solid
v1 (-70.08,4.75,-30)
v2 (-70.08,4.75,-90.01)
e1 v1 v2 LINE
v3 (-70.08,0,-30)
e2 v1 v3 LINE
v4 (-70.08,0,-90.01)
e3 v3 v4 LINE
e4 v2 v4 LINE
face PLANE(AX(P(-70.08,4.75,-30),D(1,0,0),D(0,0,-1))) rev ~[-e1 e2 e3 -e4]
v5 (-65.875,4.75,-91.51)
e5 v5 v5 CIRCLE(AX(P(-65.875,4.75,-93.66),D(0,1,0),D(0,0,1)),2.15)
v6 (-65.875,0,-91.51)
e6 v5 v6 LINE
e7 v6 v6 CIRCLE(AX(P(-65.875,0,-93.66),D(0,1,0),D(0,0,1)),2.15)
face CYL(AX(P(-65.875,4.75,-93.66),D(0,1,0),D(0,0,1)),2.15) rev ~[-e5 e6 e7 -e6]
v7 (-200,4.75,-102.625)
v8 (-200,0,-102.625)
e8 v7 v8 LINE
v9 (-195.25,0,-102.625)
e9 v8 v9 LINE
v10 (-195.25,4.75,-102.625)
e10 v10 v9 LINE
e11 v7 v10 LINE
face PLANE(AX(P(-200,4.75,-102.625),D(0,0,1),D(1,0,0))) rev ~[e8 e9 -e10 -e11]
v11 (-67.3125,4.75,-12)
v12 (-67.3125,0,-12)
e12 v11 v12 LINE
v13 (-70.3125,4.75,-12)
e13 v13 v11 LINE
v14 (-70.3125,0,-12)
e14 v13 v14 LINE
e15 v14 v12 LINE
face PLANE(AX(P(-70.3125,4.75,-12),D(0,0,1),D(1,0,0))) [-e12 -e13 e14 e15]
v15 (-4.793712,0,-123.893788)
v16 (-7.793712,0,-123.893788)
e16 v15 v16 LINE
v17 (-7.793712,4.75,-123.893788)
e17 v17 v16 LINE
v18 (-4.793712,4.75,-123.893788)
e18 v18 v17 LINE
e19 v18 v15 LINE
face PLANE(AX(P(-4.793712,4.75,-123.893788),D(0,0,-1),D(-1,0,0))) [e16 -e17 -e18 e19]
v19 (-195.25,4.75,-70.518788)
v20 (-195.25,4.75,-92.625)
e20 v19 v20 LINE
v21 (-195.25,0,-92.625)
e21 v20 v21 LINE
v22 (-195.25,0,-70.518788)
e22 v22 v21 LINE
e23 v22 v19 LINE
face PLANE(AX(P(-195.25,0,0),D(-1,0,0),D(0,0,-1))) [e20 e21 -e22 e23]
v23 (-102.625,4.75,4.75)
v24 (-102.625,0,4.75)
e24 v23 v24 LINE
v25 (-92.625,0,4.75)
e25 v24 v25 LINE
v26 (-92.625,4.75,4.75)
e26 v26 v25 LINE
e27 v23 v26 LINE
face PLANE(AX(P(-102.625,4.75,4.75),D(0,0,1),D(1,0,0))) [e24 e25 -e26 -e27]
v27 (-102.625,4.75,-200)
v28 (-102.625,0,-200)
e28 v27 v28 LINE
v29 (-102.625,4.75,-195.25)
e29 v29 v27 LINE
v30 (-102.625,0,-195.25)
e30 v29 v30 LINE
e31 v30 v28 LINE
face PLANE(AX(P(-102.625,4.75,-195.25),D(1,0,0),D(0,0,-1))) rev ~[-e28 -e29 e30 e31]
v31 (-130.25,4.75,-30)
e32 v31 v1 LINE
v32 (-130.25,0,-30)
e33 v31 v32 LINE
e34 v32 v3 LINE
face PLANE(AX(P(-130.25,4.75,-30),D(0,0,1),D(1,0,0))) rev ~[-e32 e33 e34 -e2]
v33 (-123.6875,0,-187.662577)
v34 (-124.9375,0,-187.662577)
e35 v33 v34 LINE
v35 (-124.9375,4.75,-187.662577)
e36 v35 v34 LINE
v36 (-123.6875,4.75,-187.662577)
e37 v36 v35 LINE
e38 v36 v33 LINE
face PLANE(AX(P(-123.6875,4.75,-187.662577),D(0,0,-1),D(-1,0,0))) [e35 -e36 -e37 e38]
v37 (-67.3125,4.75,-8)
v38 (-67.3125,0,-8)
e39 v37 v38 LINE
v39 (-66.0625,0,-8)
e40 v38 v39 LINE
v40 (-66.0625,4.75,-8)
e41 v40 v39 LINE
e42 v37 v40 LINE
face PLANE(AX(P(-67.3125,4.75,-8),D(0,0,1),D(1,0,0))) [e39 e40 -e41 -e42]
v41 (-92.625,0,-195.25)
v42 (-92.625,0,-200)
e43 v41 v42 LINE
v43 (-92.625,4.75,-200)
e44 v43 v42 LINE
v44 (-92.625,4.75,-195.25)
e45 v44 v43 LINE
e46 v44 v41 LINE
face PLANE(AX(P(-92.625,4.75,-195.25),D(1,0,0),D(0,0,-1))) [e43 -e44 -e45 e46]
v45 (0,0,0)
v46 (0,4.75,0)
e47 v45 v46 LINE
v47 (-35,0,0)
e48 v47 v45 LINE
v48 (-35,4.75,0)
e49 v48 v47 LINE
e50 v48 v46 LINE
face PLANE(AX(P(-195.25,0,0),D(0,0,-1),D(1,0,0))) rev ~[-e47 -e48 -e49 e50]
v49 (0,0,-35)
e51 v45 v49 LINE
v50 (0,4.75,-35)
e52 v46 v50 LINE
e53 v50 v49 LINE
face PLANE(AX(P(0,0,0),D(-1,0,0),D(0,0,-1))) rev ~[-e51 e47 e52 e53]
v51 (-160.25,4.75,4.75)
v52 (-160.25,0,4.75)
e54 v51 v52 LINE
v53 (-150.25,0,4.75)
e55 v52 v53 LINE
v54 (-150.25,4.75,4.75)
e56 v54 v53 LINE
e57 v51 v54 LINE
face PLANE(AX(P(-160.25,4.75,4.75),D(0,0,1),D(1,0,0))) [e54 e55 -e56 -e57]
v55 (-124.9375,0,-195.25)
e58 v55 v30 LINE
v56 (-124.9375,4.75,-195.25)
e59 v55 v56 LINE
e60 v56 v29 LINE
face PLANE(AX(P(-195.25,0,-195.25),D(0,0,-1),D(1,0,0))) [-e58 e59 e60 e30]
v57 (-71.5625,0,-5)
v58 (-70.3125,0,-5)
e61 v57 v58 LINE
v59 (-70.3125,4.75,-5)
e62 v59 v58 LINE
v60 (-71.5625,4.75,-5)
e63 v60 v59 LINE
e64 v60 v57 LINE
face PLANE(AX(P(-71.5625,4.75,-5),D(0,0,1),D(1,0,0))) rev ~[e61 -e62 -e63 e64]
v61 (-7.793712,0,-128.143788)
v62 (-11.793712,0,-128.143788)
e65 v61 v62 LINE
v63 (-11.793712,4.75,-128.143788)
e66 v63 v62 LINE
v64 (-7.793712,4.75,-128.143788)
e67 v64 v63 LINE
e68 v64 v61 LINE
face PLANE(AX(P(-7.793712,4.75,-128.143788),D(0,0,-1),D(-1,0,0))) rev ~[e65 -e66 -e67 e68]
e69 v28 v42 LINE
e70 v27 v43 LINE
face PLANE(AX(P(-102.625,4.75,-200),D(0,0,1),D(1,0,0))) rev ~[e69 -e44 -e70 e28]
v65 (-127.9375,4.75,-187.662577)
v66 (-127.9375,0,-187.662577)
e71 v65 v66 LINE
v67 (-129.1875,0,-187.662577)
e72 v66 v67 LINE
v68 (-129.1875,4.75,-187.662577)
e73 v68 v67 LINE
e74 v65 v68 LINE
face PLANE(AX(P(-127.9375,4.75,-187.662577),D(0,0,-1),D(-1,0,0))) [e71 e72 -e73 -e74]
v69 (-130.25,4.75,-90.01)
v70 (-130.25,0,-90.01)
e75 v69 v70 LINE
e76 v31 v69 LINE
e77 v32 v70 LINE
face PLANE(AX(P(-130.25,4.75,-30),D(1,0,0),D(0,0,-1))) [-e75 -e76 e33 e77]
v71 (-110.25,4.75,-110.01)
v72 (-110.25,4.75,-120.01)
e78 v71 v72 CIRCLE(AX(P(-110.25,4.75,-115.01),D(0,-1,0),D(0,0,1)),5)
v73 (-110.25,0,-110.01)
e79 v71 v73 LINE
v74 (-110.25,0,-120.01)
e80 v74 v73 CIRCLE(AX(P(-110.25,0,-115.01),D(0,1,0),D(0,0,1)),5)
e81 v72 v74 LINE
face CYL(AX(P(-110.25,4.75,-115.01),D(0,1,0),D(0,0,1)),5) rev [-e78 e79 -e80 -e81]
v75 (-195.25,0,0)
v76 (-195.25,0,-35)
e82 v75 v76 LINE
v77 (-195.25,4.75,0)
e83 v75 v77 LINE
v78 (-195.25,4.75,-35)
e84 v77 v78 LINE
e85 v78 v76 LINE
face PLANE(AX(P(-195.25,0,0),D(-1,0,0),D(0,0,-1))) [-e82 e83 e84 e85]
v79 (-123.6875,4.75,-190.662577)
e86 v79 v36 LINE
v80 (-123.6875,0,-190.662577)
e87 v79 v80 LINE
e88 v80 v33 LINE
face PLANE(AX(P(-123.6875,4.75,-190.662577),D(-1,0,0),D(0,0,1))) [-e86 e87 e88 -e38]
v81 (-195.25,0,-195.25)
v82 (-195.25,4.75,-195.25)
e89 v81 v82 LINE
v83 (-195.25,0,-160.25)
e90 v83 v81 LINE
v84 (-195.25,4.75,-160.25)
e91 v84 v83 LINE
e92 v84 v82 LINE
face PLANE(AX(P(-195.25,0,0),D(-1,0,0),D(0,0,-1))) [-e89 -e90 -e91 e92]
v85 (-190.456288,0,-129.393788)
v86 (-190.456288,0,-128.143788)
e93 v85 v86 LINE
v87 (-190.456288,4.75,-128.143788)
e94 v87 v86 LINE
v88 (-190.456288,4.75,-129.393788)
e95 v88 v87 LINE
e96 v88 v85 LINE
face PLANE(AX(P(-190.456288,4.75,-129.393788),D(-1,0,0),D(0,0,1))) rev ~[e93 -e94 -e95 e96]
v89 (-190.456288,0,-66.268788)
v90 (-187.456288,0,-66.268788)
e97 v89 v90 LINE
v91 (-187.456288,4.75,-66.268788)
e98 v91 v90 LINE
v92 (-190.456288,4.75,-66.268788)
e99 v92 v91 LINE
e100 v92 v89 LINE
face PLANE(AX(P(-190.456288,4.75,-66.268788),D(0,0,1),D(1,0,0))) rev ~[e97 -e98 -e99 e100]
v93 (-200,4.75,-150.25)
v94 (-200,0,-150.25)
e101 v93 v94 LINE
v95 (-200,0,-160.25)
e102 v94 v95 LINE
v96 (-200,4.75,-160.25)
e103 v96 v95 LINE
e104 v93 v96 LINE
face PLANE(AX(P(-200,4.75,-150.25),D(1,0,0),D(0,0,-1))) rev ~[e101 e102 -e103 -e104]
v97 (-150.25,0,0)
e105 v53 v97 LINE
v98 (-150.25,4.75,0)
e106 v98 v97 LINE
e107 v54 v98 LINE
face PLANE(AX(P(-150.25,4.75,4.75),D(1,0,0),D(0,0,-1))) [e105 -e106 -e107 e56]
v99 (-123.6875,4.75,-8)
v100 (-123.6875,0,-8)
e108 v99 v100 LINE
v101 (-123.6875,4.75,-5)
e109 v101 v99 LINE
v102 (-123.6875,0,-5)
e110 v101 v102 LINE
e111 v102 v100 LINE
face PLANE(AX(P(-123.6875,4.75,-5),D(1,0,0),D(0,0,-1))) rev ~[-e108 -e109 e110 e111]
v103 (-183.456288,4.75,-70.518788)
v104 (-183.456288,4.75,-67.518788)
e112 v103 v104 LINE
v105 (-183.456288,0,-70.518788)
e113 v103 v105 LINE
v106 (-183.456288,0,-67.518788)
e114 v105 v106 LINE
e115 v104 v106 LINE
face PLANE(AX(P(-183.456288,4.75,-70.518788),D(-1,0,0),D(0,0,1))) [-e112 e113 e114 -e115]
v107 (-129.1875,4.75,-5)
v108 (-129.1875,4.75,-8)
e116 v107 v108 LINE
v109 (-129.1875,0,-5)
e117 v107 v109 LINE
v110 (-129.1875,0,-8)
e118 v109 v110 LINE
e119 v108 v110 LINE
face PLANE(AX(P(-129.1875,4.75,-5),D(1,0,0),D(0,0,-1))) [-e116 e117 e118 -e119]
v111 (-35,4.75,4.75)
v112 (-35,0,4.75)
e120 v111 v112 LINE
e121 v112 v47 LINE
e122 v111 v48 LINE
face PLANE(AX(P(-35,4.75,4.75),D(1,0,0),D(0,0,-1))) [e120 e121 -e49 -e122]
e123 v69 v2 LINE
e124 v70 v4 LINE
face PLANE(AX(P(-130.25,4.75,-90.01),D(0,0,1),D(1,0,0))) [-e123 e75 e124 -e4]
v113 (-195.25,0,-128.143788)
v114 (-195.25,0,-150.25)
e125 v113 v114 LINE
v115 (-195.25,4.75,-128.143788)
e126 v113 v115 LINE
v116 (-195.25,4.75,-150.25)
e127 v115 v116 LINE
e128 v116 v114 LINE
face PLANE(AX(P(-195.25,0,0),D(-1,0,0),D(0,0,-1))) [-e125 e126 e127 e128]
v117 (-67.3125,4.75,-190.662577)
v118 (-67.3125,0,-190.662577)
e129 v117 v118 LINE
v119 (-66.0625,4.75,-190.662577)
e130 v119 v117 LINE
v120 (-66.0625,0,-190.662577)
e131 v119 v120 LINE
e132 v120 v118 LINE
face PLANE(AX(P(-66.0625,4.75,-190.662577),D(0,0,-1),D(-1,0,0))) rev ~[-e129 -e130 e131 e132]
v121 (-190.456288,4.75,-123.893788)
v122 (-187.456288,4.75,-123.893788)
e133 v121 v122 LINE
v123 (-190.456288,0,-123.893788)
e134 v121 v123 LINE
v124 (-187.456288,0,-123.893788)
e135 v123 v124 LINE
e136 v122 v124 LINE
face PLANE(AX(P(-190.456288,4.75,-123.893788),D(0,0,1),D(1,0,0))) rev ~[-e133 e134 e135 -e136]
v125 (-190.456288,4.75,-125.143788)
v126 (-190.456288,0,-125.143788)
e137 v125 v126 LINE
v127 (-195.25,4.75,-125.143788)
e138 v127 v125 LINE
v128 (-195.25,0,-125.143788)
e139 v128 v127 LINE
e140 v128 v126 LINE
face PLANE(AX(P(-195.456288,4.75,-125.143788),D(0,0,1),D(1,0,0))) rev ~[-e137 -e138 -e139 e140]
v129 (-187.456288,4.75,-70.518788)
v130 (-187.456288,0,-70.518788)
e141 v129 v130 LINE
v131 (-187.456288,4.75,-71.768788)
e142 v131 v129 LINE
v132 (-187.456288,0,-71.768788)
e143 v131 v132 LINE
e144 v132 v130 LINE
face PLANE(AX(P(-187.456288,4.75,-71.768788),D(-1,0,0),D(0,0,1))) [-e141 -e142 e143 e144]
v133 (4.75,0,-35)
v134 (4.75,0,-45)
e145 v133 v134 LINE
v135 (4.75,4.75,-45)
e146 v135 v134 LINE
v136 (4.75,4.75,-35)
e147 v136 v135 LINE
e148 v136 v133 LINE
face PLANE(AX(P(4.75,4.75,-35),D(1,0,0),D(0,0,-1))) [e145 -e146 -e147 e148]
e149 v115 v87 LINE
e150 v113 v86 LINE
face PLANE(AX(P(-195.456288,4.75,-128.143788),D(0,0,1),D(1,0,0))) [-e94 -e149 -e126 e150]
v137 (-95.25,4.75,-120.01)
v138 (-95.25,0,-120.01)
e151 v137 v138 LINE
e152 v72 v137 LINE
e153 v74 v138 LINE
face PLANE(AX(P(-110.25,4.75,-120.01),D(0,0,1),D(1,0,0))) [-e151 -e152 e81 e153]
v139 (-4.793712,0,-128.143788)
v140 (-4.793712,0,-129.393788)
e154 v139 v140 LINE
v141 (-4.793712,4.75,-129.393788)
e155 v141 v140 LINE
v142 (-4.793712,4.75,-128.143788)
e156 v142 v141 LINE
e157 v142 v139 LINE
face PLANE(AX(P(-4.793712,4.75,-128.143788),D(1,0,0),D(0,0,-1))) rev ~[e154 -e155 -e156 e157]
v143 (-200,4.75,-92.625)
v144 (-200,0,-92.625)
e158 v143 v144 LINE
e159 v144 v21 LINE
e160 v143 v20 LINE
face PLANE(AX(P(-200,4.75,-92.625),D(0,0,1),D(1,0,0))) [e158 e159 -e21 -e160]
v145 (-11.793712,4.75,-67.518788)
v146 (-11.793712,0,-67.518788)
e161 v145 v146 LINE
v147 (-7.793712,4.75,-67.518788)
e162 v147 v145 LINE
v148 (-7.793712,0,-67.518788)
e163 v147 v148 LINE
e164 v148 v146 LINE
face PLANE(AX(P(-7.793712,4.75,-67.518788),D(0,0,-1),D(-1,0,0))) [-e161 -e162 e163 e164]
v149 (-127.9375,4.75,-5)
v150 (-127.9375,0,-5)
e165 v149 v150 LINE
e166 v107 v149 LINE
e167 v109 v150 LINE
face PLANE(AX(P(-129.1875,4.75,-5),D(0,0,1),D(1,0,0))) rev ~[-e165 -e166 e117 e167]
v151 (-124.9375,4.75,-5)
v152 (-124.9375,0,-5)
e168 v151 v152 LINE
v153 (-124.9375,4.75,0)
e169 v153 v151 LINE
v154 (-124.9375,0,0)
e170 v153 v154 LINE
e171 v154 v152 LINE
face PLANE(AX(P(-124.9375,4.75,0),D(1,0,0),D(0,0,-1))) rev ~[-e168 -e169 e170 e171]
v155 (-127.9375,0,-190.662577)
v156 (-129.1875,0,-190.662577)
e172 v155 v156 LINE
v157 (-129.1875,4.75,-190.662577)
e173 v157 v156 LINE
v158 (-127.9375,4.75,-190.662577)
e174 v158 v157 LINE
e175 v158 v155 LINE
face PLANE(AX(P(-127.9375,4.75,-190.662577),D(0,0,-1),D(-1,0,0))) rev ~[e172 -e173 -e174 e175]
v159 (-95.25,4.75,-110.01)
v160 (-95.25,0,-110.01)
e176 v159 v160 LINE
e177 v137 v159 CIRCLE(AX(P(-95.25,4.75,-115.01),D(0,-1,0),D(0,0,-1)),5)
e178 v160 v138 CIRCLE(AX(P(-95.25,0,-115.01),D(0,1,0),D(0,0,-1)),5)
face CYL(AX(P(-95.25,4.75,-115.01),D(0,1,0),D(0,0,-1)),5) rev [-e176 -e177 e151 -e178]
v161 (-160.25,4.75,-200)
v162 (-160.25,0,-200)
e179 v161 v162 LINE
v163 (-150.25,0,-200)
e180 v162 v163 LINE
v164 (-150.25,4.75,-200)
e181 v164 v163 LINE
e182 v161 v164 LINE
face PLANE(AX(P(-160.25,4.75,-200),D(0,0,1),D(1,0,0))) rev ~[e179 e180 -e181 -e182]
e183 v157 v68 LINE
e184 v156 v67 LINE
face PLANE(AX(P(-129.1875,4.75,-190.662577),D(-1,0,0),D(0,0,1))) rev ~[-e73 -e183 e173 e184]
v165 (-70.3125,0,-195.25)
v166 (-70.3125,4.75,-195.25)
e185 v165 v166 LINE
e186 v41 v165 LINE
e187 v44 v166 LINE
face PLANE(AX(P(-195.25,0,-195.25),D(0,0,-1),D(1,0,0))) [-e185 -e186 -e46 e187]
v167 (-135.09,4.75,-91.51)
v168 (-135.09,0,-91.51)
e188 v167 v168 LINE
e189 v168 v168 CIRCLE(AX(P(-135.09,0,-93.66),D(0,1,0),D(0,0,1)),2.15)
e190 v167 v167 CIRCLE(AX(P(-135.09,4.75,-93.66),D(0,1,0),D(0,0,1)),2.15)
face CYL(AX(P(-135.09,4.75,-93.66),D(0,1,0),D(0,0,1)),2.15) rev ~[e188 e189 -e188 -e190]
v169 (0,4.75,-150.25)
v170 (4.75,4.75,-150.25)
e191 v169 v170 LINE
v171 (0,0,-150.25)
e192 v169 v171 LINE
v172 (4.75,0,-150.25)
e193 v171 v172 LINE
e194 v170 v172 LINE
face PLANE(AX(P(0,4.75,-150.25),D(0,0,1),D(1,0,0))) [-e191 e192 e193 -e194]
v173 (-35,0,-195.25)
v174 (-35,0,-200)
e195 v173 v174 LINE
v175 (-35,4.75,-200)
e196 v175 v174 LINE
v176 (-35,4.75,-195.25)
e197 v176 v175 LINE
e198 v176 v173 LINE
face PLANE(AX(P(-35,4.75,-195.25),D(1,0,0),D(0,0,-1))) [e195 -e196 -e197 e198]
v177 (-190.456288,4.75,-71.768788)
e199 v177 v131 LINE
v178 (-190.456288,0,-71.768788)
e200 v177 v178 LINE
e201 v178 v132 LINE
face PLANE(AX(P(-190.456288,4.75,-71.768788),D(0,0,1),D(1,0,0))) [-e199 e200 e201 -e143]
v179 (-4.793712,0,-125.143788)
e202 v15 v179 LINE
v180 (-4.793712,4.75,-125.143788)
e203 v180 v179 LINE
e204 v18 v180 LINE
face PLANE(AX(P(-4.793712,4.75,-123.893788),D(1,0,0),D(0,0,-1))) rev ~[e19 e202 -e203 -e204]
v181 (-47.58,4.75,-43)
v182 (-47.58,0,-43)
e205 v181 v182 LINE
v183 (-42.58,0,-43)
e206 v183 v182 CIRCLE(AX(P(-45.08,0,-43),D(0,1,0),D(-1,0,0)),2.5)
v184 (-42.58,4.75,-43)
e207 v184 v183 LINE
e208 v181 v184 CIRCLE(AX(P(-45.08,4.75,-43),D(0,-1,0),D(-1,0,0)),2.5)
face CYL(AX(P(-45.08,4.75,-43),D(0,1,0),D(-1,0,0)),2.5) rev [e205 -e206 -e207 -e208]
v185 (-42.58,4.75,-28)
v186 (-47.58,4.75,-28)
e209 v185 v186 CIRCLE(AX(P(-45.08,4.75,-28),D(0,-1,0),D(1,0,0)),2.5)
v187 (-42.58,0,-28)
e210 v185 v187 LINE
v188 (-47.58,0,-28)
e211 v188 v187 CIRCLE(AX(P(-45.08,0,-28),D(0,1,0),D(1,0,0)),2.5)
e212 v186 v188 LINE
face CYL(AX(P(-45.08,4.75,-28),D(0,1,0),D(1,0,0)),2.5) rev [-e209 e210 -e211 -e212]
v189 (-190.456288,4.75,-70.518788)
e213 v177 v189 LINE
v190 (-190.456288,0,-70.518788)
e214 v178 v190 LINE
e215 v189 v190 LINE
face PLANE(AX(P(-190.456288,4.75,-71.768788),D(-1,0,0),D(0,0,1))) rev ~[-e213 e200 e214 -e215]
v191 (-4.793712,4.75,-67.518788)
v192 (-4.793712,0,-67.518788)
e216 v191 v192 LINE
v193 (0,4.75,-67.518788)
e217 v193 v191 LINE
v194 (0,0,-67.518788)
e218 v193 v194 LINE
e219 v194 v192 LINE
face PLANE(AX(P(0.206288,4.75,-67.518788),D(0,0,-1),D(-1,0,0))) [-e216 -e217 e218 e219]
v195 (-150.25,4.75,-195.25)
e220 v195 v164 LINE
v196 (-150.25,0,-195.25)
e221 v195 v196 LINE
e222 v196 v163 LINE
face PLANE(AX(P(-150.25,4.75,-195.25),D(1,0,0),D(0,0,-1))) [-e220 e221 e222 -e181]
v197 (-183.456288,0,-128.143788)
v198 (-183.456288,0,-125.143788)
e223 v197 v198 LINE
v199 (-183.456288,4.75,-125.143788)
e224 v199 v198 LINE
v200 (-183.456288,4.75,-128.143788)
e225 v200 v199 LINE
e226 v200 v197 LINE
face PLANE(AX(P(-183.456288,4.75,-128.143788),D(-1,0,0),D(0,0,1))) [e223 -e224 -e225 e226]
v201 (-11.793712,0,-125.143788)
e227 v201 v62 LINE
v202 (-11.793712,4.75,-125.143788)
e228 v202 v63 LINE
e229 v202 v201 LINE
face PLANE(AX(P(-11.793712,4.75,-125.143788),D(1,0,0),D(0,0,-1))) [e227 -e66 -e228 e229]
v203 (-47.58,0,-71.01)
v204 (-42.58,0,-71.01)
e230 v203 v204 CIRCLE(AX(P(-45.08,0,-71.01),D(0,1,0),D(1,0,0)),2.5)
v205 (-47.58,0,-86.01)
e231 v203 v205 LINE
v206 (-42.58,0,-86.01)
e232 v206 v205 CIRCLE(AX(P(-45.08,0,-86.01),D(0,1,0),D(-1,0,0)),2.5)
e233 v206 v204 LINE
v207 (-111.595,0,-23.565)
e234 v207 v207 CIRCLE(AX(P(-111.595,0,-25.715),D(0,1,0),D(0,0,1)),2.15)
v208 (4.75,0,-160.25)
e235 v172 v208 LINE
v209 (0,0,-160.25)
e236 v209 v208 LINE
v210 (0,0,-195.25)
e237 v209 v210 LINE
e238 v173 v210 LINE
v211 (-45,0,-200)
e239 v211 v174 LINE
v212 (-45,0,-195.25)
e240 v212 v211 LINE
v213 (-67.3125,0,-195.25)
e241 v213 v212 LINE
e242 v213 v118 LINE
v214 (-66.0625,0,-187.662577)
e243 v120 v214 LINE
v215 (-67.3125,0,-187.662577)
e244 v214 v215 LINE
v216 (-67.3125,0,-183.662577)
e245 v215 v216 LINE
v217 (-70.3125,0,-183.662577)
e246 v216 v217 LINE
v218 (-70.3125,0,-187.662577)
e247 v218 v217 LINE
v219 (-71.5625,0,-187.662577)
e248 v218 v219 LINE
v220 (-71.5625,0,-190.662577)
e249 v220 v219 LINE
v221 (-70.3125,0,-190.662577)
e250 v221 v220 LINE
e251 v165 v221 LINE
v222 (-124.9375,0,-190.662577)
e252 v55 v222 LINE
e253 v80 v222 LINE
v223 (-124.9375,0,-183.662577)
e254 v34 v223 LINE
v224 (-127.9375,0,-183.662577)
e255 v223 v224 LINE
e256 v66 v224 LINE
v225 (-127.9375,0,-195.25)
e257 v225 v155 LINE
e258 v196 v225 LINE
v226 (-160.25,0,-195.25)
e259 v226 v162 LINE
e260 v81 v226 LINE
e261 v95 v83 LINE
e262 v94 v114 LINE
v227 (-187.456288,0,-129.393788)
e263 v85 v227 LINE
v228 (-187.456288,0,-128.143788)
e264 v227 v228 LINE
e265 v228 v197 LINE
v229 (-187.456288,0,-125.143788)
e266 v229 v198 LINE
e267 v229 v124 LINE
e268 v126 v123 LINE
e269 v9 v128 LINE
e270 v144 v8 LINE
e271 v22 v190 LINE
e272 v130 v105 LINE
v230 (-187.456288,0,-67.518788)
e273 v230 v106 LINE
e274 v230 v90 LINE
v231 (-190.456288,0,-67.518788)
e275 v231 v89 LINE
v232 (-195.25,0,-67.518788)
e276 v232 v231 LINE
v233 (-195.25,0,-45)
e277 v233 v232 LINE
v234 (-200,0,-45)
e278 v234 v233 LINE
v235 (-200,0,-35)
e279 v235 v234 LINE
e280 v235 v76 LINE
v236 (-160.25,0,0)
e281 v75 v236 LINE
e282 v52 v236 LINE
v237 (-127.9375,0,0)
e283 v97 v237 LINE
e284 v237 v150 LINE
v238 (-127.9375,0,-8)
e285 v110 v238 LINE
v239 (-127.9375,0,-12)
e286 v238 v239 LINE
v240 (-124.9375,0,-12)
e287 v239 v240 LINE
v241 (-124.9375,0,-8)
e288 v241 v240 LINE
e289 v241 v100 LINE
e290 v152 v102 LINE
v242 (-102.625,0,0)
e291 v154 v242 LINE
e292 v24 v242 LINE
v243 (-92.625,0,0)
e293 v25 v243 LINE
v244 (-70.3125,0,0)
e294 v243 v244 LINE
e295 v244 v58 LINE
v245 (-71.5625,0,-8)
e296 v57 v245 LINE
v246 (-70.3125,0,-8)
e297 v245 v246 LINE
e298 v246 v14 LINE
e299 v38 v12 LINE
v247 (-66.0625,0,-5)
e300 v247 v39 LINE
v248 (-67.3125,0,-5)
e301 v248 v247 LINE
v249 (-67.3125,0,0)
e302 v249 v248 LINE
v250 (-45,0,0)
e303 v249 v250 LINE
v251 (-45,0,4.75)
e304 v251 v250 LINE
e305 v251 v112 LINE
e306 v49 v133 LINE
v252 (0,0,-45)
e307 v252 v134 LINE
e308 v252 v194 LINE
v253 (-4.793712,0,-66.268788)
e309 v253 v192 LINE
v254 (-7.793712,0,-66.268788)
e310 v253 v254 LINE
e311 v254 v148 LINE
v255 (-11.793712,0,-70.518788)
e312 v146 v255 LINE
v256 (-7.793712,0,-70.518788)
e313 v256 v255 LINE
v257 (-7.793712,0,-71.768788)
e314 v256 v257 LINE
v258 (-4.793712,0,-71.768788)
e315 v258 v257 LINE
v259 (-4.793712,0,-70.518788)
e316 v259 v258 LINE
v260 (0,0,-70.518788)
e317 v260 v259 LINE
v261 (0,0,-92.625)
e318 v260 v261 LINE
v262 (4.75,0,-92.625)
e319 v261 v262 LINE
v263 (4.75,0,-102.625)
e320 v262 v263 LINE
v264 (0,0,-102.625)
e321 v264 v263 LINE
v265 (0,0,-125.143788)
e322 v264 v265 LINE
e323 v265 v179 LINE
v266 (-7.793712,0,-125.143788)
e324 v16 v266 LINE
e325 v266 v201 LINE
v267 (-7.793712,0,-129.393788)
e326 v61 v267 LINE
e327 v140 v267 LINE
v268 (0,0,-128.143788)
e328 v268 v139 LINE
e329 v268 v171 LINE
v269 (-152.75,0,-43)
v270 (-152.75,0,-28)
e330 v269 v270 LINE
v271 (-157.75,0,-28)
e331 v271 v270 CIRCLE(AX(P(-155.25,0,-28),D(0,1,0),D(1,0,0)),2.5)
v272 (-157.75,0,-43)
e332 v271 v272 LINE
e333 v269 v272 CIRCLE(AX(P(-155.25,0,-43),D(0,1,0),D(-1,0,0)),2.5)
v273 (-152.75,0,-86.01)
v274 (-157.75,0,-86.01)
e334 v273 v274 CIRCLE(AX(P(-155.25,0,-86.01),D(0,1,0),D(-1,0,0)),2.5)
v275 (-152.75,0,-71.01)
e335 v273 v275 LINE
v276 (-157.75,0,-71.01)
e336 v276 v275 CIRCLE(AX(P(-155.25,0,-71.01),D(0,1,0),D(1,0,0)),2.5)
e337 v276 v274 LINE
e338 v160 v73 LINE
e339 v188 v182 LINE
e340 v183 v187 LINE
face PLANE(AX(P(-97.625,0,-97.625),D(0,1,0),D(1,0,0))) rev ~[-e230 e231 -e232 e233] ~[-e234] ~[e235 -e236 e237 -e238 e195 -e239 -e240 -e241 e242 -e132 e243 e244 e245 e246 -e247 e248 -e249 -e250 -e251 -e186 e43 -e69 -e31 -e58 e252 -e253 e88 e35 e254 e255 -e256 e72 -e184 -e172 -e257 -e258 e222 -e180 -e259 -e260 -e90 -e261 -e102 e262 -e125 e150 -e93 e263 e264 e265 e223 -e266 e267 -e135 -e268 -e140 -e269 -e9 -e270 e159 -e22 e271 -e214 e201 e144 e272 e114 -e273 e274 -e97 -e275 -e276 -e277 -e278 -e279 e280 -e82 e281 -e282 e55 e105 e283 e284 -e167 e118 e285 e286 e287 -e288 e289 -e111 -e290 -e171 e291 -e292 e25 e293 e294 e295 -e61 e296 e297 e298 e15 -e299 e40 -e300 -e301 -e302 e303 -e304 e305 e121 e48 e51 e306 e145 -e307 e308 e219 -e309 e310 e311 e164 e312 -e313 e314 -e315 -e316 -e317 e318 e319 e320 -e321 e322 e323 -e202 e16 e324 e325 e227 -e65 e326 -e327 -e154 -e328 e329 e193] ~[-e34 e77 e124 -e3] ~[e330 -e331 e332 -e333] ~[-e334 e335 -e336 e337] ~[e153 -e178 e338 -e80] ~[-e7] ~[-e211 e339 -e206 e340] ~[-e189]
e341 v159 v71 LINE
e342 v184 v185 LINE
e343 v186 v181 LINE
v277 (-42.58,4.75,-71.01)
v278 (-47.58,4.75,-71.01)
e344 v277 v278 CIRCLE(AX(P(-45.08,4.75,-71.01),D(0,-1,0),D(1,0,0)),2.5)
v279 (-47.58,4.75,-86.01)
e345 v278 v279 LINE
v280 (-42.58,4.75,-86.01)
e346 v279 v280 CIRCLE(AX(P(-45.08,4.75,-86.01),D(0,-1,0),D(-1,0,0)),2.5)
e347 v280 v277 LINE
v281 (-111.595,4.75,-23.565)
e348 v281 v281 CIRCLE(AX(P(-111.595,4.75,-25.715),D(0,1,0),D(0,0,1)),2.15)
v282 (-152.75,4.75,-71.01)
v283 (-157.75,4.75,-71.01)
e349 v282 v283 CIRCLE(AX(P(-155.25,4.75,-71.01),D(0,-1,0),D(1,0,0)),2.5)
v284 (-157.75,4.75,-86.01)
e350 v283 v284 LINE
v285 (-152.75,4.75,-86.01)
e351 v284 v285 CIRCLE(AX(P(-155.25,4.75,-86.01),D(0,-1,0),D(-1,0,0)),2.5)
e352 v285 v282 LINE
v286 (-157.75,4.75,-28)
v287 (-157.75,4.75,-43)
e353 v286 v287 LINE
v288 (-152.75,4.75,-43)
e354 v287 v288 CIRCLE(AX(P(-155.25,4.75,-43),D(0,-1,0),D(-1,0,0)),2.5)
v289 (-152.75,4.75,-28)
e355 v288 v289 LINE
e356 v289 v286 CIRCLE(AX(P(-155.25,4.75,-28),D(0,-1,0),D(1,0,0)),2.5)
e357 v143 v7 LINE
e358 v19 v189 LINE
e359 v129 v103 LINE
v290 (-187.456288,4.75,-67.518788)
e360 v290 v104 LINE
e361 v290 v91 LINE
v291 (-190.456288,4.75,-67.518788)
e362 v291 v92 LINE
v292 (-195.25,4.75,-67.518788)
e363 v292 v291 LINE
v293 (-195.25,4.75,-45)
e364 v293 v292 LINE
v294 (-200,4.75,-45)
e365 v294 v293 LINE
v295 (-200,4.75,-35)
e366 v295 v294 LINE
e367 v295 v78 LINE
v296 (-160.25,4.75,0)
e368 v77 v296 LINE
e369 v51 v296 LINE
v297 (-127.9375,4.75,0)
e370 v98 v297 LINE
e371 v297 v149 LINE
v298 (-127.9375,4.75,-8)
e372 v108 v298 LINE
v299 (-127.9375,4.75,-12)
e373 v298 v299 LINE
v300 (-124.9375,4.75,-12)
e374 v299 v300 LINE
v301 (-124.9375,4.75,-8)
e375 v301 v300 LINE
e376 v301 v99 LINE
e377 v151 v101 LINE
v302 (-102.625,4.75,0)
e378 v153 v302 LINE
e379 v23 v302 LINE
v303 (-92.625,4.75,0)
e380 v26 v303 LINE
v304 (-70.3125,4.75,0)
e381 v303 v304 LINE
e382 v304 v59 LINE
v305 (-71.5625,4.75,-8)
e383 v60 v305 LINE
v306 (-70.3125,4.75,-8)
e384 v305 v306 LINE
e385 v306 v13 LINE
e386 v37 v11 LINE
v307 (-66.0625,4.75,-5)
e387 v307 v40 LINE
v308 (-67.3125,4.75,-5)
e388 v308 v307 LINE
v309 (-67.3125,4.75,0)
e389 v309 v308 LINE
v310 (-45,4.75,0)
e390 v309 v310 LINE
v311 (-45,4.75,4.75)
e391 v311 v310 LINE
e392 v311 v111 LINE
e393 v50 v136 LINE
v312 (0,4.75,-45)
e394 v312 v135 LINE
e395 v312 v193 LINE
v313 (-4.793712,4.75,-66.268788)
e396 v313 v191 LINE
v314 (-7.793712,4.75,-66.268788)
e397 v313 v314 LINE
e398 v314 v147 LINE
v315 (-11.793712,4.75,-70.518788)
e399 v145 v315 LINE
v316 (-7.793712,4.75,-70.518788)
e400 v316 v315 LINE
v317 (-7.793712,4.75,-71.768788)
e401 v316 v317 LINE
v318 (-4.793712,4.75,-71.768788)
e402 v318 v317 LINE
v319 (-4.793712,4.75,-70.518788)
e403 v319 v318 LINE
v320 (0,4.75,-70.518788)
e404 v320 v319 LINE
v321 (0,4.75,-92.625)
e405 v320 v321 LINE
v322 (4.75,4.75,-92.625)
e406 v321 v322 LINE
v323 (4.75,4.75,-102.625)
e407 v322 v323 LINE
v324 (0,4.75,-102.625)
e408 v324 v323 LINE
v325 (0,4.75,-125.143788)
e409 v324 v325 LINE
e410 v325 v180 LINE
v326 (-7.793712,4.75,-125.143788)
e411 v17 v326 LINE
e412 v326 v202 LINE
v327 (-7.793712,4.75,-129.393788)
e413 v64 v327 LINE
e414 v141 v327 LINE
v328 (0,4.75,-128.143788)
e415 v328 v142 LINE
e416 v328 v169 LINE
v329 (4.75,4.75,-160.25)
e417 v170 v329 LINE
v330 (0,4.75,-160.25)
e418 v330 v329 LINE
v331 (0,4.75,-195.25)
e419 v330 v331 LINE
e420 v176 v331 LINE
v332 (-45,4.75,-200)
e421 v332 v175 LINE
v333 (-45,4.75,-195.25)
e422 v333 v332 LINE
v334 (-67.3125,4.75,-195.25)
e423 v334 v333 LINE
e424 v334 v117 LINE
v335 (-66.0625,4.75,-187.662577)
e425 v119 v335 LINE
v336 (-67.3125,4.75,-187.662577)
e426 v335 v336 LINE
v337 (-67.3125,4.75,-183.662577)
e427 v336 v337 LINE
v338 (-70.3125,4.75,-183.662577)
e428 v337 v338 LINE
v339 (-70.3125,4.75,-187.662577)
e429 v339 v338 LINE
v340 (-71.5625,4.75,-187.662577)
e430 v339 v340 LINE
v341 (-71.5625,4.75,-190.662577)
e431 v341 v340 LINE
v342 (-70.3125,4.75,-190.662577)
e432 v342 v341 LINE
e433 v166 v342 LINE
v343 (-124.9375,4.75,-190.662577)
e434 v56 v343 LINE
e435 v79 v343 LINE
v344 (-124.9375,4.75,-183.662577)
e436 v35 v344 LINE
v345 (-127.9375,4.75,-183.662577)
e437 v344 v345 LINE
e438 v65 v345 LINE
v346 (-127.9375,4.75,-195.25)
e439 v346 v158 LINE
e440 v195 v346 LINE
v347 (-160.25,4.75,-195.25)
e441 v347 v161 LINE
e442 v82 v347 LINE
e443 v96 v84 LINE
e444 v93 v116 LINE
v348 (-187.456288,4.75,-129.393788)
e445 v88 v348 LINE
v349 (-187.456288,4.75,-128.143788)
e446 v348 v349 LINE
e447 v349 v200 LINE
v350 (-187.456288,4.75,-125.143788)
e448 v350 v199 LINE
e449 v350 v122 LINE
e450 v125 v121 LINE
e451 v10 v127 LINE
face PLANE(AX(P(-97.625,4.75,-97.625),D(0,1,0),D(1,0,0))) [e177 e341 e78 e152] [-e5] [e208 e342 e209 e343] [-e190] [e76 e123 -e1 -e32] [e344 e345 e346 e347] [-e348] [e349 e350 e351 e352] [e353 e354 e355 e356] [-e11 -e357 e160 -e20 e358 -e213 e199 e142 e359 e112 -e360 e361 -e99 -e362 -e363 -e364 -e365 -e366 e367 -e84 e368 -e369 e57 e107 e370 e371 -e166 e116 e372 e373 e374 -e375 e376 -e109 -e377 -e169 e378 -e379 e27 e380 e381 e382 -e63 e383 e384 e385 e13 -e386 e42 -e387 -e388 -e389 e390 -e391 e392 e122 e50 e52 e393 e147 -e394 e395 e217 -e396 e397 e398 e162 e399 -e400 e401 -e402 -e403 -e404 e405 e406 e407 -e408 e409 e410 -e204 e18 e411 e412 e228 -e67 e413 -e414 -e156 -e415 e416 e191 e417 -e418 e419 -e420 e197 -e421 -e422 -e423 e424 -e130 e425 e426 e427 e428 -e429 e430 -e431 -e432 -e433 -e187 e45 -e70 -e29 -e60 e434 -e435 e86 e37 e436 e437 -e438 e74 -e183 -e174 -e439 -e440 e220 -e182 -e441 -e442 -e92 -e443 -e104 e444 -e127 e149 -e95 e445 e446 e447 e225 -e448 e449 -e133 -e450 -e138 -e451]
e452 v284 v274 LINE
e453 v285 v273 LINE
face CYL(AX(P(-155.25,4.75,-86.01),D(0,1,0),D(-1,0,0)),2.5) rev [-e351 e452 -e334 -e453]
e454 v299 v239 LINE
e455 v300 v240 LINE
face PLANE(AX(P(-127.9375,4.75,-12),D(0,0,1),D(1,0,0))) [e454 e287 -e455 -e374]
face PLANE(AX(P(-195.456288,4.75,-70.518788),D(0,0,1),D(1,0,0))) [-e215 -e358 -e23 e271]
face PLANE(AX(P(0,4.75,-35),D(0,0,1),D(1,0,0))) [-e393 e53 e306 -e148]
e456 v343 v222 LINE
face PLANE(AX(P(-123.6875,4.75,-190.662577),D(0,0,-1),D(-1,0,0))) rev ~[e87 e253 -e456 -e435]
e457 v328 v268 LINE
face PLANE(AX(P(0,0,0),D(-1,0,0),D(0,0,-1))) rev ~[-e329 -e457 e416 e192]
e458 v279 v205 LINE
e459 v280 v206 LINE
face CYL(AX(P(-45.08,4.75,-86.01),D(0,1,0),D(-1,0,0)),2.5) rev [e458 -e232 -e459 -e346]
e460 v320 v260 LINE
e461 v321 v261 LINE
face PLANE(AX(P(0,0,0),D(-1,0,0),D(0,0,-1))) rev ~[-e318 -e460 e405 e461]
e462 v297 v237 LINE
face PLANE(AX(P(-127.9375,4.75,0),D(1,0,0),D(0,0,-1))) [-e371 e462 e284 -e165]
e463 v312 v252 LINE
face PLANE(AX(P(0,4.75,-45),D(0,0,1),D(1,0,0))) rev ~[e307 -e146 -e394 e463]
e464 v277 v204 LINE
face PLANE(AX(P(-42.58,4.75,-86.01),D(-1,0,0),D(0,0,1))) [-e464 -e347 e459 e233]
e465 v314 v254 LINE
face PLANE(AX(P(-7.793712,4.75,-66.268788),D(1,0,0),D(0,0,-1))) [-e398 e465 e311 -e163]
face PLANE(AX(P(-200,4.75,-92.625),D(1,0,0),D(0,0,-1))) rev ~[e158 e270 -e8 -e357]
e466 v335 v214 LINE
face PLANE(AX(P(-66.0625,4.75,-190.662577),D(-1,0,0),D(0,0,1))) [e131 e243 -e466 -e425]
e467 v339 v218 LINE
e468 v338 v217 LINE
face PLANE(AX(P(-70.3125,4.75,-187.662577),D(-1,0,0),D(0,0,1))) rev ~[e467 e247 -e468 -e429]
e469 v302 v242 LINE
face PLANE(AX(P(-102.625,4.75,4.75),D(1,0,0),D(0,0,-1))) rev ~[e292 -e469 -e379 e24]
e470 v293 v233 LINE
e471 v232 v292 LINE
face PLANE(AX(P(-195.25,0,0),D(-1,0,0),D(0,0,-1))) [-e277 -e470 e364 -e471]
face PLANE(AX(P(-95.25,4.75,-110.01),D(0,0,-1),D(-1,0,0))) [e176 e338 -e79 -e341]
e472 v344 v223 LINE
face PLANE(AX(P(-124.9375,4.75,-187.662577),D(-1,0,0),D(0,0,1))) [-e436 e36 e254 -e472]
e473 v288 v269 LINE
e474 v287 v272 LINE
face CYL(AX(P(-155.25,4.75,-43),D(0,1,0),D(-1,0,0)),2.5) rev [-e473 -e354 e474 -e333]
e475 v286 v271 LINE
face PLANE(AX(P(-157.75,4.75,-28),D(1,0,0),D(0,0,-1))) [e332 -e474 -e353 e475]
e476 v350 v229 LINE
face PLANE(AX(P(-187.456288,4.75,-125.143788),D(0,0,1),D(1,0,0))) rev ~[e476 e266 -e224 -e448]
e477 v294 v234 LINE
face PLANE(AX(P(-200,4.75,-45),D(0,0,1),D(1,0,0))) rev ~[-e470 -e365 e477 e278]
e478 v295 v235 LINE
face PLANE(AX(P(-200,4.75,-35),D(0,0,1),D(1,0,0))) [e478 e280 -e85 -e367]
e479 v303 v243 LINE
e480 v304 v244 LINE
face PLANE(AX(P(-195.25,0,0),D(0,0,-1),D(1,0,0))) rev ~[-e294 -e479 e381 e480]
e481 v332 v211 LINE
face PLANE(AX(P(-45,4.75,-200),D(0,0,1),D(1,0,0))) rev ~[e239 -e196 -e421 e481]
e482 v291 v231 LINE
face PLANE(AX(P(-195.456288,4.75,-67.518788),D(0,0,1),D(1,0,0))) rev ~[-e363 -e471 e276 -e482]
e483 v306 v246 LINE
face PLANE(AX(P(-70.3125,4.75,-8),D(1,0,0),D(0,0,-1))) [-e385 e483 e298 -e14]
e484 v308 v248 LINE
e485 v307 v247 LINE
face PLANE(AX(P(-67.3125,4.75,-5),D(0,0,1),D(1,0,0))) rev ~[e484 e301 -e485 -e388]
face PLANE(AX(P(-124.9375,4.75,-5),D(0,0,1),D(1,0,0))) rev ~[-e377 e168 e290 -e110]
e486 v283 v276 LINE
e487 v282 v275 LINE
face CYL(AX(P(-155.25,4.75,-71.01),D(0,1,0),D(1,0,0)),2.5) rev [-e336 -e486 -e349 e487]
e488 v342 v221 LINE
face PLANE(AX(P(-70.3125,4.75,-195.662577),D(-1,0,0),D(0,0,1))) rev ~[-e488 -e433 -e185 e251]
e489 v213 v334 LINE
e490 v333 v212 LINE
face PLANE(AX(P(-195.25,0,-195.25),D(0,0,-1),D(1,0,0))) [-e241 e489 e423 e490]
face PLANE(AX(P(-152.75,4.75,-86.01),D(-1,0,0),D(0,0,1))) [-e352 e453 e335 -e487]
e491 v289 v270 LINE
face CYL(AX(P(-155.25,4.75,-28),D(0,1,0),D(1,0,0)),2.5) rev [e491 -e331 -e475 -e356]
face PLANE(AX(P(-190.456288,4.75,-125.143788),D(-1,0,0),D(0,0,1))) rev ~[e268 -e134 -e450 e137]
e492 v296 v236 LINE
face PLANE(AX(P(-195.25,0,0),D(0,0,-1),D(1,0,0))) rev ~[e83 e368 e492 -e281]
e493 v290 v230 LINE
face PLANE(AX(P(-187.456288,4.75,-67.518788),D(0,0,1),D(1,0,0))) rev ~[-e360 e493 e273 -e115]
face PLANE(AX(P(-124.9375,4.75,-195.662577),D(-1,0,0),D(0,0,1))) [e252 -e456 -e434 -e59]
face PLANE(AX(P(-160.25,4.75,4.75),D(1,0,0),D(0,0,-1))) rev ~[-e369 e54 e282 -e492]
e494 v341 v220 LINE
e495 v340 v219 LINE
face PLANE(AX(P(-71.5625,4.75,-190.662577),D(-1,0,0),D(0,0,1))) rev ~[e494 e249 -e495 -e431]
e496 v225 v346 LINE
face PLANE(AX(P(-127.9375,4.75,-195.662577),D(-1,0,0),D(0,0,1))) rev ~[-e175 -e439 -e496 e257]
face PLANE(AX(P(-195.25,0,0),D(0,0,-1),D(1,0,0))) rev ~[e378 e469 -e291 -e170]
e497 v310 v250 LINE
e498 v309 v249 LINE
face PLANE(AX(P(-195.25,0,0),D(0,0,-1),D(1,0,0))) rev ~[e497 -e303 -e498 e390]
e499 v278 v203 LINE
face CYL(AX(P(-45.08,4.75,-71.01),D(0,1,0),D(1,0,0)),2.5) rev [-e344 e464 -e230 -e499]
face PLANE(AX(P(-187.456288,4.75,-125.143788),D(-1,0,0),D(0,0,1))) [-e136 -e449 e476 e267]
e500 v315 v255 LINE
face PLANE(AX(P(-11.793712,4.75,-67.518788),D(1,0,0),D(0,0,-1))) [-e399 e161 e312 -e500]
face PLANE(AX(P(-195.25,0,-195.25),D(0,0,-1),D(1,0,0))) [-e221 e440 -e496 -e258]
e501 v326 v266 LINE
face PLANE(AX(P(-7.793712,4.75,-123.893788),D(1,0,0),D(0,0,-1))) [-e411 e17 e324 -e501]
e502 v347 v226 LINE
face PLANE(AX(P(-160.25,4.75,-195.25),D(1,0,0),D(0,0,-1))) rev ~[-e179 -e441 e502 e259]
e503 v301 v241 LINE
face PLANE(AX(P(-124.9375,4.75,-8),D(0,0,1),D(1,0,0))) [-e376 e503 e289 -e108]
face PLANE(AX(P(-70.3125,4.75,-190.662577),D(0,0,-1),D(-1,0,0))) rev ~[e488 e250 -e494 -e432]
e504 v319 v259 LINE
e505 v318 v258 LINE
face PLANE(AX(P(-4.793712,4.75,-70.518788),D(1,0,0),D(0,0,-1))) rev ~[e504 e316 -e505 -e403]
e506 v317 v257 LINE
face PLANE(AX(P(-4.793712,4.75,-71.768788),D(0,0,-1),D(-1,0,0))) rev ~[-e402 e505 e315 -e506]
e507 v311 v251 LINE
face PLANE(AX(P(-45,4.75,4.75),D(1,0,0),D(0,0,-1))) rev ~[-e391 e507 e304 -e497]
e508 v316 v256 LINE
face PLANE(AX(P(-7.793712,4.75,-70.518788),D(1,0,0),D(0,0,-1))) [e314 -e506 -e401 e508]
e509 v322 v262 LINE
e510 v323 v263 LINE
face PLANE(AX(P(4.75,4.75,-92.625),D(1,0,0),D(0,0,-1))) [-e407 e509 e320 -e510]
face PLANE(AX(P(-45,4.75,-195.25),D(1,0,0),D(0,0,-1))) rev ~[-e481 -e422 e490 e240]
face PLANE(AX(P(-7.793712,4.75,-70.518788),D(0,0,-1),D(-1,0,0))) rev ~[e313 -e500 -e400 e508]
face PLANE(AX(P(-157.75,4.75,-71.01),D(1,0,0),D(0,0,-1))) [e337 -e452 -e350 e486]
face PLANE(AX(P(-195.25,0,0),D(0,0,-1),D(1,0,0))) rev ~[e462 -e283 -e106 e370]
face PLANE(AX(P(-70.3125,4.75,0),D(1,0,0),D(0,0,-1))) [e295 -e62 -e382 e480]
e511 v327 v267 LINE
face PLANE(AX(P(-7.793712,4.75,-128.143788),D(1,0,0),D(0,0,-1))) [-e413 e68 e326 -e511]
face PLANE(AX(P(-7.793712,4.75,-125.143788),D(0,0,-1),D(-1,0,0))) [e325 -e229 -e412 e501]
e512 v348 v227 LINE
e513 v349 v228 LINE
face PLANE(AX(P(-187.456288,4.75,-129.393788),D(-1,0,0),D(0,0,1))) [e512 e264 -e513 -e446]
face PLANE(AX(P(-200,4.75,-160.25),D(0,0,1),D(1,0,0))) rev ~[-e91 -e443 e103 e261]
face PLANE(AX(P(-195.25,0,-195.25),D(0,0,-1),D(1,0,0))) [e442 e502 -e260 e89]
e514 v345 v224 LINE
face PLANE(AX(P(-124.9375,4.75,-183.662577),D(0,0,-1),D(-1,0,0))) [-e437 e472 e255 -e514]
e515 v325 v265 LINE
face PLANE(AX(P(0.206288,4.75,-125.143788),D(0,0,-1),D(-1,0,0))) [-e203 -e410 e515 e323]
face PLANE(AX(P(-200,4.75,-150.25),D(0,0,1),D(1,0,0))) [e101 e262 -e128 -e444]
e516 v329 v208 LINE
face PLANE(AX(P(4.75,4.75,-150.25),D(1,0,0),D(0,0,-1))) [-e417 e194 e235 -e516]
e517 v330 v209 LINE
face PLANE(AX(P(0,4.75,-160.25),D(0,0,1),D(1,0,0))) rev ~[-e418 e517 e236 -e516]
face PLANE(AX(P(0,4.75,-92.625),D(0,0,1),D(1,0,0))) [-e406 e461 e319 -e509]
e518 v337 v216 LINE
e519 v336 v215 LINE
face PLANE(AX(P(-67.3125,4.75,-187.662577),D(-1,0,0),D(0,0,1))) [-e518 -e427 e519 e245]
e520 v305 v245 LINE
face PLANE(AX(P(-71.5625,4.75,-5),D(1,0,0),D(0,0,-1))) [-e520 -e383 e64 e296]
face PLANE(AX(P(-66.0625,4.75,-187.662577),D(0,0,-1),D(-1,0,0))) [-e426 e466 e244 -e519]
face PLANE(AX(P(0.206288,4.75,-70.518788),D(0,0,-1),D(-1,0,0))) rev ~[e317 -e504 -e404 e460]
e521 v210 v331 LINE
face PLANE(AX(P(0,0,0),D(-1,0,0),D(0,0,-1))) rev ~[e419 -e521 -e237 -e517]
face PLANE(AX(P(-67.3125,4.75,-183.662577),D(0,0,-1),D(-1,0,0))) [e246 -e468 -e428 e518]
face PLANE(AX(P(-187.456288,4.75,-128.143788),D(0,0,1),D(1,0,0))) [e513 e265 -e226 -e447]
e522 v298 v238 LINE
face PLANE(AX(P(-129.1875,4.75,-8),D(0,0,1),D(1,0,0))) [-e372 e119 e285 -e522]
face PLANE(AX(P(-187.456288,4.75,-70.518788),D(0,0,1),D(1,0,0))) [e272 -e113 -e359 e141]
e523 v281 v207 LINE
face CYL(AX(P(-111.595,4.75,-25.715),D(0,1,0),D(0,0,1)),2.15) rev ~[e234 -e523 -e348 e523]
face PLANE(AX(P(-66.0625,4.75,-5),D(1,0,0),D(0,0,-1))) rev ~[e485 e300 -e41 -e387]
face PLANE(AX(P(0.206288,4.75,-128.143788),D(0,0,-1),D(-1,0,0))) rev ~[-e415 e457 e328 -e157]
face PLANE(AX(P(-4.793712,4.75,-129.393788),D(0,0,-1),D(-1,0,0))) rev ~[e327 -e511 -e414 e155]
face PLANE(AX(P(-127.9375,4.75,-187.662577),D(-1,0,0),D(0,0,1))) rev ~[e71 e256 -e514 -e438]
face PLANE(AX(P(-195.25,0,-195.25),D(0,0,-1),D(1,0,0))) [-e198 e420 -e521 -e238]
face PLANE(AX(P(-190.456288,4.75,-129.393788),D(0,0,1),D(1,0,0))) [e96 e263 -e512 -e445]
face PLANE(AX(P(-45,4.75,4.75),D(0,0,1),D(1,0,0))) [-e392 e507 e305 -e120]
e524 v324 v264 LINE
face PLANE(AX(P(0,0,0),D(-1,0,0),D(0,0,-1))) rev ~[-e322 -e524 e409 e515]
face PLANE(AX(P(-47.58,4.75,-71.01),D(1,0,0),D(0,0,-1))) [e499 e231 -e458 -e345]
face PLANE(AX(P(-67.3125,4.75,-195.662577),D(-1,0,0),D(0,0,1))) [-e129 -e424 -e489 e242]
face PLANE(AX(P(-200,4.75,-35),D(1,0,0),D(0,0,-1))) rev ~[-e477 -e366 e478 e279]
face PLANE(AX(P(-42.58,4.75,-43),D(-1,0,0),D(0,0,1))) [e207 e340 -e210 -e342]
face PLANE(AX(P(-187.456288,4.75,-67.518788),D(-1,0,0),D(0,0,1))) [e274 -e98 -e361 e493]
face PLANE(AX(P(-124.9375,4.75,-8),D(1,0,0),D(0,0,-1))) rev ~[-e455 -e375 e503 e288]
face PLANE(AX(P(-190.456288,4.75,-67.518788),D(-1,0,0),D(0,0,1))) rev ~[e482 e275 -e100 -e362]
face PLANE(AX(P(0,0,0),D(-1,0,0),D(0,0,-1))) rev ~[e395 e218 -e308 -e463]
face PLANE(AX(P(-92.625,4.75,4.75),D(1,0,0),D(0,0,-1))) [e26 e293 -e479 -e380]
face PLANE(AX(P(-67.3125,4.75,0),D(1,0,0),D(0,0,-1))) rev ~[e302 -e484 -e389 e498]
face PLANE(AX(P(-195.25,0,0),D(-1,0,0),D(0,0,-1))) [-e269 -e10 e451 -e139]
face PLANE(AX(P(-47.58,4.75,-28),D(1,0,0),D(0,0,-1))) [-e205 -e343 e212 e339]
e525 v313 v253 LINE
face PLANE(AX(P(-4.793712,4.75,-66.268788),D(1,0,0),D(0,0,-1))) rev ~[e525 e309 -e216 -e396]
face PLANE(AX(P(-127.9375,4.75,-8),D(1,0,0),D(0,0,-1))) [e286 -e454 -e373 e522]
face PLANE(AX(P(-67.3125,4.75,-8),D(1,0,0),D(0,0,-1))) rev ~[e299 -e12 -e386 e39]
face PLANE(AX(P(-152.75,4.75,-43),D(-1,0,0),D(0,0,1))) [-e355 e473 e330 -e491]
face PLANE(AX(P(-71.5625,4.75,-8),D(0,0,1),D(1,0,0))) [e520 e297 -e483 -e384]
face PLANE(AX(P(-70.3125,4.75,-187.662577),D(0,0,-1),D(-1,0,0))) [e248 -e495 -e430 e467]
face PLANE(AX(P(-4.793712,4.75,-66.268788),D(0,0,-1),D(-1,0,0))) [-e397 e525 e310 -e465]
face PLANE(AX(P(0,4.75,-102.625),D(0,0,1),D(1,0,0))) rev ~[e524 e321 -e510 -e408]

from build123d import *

# Parameters (mm, degrees)
SKETCH1_W           = 195.25
SKETCH1_H           = 195.25
BOSS_EXTRUDE1_DEPTH = 4.75
SKETCH2_W           = 10
SKETCH2_H           = 4.75
SKETCH2_W_2         = 4.75
SKETCH2_H_2         = 10
BOSS_EXTRUDE2_DEPTH = 4.75
SKETCH3_W           = 3
SKETCH3_H           = 12
SKETCH3_W_2         = 5.5
SKETCH3_H_2         = 3
CUT_EXTRUDE1_DEPTH  = 4.75
CIRPATTERN1_COUNT   = 4
SKETCH4_R           = 2.15
SKETCH4_W           = 60.17
SKETCH4_H           = 60.01
CUT_EXTRUDE2_DEPTH  = 283.882594905


with BuildPart() as part:
    # Sketch1 → Boss-Extrude1 (new body)
    with BuildSketch(Plane(origin=(0, 0, 0), x_dir=(1, 0, 0), z_dir=(0, 1, 0))):
        with Locations((-97.625, 97.625)):
            Rectangle(SKETCH1_W, SKETCH1_H)
    extrude(amount=BOSS_EXTRUDE1_DEPTH)

    # Sketch2 → Boss-Extrude2 (add)
    with BuildSketch(Plane(origin=(0, 4.75, 0), x_dir=(1, 0, 0), z_dir=(0, 1, 0))):
        with Locations((-155.25, 197.625)):
            Rectangle(SKETCH2_W, SKETCH2_H)
        with Locations((-97.625, 197.625)):
            Rectangle(SKETCH2_W, SKETCH2_H)
        with Locations((-40, 197.625)):
            Rectangle(SKETCH2_W, SKETCH2_H)
        with Locations((2.375, 155.25)):
            Rectangle(SKETCH2_W_2, SKETCH2_H_2)
        with Locations((2.375, 97.625)):
            Rectangle(SKETCH2_W_2, SKETCH2_H_2)
        with Locations((2.375, 40)):
            Rectangle(SKETCH2_W_2, SKETCH2_H_2)
        with Locations((-40, -2.375)):
            Rectangle(SKETCH2_W, SKETCH2_H)
        with Locations((-97.625, -2.375)):
            Rectangle(SKETCH2_W, SKETCH2_H)
        with Locations((-155.25, -2.375)):
            Rectangle(SKETCH2_W, SKETCH2_H)
        with Locations((-197.625, 40)):
            Rectangle(SKETCH2_W_2, SKETCH2_H_2)
        with Locations((-197.625, 97.625)):
            Rectangle(SKETCH2_W_2, SKETCH2_H_2)
        with Locations((-197.625, 155.25)):
            Rectangle(SKETCH2_W_2, SKETCH2_H_2)
    extrude(amount=-BOSS_EXTRUDE2_DEPTH)

    # Sketch3 → Cut-Extrude1 (cut)
    with BuildSketch(Plane(origin=(0, 4.75, 0), x_dir=(1, 0, 0), z_dir=(0, 1, 0))):
        with Locations((-126.4375, 6)):
            Rectangle(SKETCH3_W, SKETCH3_H)
        with Locations((-126.4375, 6.5)):
            Rectangle(SKETCH3_W_2, SKETCH3_H_2)
        with Locations((-68.8125, 6)):
            Rectangle(SKETCH3_W, SKETCH3_H)
        with Locations((-68.8125, 6.5)):
            Rectangle(SKETCH3_W_2, SKETCH3_H_2)
    cut_extrude1 = extrude(amount=-CUT_EXTRUDE1_DEPTH, mode=Mode.SUBTRACT)

    # CirPattern1: Cut-Extrude1 ×4 about axis
    cirpattern1_axis = Axis((-97.625, 0, -97.831288278), (0, 1, 0))
    for i in range(1, CIRPATTERN1_COUNT):
        add(cut_extrude1.rotate(cirpattern1_axis, i * 360 / CIRPATTERN1_COUNT), mode=Mode.SUBTRACT)

    # Sketch4 → Cut-Extrude2 (cut, through all)
    with BuildSketch(Plane(origin=(0, 4.75, 0), x_dir=(1, 0, 0), z_dir=(0, 1, 0))):
        with Locations(Location((-111.595, 25.715, 0), (0, 0, 270))):
            Circle(SKETCH4_R)
        with Locations(Location((-65.875, 93.66, 0), (0, 0, 270))):
            Circle(SKETCH4_R)
        with Locations(Location((-135.09, 93.66, 0), (0, 0, 270))):
            Circle(SKETCH4_R)
        with Locations((-100.165, 60.005)):
            Rectangle(SKETCH4_W, SKETCH4_H)
        with BuildLine():
            Line((-152.75, 43), (-152.75, 28))
            ThreePointArc((-152.75, 28), (-155.25, 25.5), (-157.75, 28))
            Line((-157.75, 28), (-157.75, 43))
            ThreePointArc((-157.75, 43), (-155.25, 45.5), (-152.75, 43))
        make_face()
        with BuildLine():
            Line((-42.58, 43), (-42.58, 28))
            ThreePointArc((-42.58, 28), (-45.08, 25.5), (-47.58, 28))
            Line((-47.58, 28), (-47.58, 43))
            ThreePointArc((-47.58, 43), (-45.08, 45.5), (-42.58, 43))
        make_face()
        with BuildLine():
            Line((-42.58, 86.01), (-42.58, 71.01))
            ThreePointArc((-42.58, 71.01), (-45.08, 68.51), (-47.58, 71.01))
            Line((-47.58, 71.01), (-47.58, 86.01))
            ThreePointArc((-47.58, 86.01), (-45.08, 88.51), (-42.58, 86.01))
        make_face()
        with BuildLine():
            Line((-110.25, 120.01), (-95.25, 120.01))
            ThreePointArc((-95.25, 120.01), (-90.25, 115.01), (-95.25, 110.01))
            Line((-95.25, 110.01), (-110.25, 110.01))
            ThreePointArc((-110.25, 110.01), (-115.25, 115.01), (-110.25, 120.01))
        make_face()
        with BuildLine():
            Line((-152.75, 86.01), (-152.75, 71.01))
            ThreePointArc((-152.75, 71.01), (-155.25, 68.51), (-157.75, 71.01))
            Line((-157.75, 71.01), (-157.75, 86.01))
            ThreePointArc((-157.75, 86.01), (-155.25, 88.51), (-152.75, 86.01))
        make_face()
    extrude(amount=-CUT_EXTRUDE2_DEPTH, mode=Mode.SUBTRACT)


solid = part.part
